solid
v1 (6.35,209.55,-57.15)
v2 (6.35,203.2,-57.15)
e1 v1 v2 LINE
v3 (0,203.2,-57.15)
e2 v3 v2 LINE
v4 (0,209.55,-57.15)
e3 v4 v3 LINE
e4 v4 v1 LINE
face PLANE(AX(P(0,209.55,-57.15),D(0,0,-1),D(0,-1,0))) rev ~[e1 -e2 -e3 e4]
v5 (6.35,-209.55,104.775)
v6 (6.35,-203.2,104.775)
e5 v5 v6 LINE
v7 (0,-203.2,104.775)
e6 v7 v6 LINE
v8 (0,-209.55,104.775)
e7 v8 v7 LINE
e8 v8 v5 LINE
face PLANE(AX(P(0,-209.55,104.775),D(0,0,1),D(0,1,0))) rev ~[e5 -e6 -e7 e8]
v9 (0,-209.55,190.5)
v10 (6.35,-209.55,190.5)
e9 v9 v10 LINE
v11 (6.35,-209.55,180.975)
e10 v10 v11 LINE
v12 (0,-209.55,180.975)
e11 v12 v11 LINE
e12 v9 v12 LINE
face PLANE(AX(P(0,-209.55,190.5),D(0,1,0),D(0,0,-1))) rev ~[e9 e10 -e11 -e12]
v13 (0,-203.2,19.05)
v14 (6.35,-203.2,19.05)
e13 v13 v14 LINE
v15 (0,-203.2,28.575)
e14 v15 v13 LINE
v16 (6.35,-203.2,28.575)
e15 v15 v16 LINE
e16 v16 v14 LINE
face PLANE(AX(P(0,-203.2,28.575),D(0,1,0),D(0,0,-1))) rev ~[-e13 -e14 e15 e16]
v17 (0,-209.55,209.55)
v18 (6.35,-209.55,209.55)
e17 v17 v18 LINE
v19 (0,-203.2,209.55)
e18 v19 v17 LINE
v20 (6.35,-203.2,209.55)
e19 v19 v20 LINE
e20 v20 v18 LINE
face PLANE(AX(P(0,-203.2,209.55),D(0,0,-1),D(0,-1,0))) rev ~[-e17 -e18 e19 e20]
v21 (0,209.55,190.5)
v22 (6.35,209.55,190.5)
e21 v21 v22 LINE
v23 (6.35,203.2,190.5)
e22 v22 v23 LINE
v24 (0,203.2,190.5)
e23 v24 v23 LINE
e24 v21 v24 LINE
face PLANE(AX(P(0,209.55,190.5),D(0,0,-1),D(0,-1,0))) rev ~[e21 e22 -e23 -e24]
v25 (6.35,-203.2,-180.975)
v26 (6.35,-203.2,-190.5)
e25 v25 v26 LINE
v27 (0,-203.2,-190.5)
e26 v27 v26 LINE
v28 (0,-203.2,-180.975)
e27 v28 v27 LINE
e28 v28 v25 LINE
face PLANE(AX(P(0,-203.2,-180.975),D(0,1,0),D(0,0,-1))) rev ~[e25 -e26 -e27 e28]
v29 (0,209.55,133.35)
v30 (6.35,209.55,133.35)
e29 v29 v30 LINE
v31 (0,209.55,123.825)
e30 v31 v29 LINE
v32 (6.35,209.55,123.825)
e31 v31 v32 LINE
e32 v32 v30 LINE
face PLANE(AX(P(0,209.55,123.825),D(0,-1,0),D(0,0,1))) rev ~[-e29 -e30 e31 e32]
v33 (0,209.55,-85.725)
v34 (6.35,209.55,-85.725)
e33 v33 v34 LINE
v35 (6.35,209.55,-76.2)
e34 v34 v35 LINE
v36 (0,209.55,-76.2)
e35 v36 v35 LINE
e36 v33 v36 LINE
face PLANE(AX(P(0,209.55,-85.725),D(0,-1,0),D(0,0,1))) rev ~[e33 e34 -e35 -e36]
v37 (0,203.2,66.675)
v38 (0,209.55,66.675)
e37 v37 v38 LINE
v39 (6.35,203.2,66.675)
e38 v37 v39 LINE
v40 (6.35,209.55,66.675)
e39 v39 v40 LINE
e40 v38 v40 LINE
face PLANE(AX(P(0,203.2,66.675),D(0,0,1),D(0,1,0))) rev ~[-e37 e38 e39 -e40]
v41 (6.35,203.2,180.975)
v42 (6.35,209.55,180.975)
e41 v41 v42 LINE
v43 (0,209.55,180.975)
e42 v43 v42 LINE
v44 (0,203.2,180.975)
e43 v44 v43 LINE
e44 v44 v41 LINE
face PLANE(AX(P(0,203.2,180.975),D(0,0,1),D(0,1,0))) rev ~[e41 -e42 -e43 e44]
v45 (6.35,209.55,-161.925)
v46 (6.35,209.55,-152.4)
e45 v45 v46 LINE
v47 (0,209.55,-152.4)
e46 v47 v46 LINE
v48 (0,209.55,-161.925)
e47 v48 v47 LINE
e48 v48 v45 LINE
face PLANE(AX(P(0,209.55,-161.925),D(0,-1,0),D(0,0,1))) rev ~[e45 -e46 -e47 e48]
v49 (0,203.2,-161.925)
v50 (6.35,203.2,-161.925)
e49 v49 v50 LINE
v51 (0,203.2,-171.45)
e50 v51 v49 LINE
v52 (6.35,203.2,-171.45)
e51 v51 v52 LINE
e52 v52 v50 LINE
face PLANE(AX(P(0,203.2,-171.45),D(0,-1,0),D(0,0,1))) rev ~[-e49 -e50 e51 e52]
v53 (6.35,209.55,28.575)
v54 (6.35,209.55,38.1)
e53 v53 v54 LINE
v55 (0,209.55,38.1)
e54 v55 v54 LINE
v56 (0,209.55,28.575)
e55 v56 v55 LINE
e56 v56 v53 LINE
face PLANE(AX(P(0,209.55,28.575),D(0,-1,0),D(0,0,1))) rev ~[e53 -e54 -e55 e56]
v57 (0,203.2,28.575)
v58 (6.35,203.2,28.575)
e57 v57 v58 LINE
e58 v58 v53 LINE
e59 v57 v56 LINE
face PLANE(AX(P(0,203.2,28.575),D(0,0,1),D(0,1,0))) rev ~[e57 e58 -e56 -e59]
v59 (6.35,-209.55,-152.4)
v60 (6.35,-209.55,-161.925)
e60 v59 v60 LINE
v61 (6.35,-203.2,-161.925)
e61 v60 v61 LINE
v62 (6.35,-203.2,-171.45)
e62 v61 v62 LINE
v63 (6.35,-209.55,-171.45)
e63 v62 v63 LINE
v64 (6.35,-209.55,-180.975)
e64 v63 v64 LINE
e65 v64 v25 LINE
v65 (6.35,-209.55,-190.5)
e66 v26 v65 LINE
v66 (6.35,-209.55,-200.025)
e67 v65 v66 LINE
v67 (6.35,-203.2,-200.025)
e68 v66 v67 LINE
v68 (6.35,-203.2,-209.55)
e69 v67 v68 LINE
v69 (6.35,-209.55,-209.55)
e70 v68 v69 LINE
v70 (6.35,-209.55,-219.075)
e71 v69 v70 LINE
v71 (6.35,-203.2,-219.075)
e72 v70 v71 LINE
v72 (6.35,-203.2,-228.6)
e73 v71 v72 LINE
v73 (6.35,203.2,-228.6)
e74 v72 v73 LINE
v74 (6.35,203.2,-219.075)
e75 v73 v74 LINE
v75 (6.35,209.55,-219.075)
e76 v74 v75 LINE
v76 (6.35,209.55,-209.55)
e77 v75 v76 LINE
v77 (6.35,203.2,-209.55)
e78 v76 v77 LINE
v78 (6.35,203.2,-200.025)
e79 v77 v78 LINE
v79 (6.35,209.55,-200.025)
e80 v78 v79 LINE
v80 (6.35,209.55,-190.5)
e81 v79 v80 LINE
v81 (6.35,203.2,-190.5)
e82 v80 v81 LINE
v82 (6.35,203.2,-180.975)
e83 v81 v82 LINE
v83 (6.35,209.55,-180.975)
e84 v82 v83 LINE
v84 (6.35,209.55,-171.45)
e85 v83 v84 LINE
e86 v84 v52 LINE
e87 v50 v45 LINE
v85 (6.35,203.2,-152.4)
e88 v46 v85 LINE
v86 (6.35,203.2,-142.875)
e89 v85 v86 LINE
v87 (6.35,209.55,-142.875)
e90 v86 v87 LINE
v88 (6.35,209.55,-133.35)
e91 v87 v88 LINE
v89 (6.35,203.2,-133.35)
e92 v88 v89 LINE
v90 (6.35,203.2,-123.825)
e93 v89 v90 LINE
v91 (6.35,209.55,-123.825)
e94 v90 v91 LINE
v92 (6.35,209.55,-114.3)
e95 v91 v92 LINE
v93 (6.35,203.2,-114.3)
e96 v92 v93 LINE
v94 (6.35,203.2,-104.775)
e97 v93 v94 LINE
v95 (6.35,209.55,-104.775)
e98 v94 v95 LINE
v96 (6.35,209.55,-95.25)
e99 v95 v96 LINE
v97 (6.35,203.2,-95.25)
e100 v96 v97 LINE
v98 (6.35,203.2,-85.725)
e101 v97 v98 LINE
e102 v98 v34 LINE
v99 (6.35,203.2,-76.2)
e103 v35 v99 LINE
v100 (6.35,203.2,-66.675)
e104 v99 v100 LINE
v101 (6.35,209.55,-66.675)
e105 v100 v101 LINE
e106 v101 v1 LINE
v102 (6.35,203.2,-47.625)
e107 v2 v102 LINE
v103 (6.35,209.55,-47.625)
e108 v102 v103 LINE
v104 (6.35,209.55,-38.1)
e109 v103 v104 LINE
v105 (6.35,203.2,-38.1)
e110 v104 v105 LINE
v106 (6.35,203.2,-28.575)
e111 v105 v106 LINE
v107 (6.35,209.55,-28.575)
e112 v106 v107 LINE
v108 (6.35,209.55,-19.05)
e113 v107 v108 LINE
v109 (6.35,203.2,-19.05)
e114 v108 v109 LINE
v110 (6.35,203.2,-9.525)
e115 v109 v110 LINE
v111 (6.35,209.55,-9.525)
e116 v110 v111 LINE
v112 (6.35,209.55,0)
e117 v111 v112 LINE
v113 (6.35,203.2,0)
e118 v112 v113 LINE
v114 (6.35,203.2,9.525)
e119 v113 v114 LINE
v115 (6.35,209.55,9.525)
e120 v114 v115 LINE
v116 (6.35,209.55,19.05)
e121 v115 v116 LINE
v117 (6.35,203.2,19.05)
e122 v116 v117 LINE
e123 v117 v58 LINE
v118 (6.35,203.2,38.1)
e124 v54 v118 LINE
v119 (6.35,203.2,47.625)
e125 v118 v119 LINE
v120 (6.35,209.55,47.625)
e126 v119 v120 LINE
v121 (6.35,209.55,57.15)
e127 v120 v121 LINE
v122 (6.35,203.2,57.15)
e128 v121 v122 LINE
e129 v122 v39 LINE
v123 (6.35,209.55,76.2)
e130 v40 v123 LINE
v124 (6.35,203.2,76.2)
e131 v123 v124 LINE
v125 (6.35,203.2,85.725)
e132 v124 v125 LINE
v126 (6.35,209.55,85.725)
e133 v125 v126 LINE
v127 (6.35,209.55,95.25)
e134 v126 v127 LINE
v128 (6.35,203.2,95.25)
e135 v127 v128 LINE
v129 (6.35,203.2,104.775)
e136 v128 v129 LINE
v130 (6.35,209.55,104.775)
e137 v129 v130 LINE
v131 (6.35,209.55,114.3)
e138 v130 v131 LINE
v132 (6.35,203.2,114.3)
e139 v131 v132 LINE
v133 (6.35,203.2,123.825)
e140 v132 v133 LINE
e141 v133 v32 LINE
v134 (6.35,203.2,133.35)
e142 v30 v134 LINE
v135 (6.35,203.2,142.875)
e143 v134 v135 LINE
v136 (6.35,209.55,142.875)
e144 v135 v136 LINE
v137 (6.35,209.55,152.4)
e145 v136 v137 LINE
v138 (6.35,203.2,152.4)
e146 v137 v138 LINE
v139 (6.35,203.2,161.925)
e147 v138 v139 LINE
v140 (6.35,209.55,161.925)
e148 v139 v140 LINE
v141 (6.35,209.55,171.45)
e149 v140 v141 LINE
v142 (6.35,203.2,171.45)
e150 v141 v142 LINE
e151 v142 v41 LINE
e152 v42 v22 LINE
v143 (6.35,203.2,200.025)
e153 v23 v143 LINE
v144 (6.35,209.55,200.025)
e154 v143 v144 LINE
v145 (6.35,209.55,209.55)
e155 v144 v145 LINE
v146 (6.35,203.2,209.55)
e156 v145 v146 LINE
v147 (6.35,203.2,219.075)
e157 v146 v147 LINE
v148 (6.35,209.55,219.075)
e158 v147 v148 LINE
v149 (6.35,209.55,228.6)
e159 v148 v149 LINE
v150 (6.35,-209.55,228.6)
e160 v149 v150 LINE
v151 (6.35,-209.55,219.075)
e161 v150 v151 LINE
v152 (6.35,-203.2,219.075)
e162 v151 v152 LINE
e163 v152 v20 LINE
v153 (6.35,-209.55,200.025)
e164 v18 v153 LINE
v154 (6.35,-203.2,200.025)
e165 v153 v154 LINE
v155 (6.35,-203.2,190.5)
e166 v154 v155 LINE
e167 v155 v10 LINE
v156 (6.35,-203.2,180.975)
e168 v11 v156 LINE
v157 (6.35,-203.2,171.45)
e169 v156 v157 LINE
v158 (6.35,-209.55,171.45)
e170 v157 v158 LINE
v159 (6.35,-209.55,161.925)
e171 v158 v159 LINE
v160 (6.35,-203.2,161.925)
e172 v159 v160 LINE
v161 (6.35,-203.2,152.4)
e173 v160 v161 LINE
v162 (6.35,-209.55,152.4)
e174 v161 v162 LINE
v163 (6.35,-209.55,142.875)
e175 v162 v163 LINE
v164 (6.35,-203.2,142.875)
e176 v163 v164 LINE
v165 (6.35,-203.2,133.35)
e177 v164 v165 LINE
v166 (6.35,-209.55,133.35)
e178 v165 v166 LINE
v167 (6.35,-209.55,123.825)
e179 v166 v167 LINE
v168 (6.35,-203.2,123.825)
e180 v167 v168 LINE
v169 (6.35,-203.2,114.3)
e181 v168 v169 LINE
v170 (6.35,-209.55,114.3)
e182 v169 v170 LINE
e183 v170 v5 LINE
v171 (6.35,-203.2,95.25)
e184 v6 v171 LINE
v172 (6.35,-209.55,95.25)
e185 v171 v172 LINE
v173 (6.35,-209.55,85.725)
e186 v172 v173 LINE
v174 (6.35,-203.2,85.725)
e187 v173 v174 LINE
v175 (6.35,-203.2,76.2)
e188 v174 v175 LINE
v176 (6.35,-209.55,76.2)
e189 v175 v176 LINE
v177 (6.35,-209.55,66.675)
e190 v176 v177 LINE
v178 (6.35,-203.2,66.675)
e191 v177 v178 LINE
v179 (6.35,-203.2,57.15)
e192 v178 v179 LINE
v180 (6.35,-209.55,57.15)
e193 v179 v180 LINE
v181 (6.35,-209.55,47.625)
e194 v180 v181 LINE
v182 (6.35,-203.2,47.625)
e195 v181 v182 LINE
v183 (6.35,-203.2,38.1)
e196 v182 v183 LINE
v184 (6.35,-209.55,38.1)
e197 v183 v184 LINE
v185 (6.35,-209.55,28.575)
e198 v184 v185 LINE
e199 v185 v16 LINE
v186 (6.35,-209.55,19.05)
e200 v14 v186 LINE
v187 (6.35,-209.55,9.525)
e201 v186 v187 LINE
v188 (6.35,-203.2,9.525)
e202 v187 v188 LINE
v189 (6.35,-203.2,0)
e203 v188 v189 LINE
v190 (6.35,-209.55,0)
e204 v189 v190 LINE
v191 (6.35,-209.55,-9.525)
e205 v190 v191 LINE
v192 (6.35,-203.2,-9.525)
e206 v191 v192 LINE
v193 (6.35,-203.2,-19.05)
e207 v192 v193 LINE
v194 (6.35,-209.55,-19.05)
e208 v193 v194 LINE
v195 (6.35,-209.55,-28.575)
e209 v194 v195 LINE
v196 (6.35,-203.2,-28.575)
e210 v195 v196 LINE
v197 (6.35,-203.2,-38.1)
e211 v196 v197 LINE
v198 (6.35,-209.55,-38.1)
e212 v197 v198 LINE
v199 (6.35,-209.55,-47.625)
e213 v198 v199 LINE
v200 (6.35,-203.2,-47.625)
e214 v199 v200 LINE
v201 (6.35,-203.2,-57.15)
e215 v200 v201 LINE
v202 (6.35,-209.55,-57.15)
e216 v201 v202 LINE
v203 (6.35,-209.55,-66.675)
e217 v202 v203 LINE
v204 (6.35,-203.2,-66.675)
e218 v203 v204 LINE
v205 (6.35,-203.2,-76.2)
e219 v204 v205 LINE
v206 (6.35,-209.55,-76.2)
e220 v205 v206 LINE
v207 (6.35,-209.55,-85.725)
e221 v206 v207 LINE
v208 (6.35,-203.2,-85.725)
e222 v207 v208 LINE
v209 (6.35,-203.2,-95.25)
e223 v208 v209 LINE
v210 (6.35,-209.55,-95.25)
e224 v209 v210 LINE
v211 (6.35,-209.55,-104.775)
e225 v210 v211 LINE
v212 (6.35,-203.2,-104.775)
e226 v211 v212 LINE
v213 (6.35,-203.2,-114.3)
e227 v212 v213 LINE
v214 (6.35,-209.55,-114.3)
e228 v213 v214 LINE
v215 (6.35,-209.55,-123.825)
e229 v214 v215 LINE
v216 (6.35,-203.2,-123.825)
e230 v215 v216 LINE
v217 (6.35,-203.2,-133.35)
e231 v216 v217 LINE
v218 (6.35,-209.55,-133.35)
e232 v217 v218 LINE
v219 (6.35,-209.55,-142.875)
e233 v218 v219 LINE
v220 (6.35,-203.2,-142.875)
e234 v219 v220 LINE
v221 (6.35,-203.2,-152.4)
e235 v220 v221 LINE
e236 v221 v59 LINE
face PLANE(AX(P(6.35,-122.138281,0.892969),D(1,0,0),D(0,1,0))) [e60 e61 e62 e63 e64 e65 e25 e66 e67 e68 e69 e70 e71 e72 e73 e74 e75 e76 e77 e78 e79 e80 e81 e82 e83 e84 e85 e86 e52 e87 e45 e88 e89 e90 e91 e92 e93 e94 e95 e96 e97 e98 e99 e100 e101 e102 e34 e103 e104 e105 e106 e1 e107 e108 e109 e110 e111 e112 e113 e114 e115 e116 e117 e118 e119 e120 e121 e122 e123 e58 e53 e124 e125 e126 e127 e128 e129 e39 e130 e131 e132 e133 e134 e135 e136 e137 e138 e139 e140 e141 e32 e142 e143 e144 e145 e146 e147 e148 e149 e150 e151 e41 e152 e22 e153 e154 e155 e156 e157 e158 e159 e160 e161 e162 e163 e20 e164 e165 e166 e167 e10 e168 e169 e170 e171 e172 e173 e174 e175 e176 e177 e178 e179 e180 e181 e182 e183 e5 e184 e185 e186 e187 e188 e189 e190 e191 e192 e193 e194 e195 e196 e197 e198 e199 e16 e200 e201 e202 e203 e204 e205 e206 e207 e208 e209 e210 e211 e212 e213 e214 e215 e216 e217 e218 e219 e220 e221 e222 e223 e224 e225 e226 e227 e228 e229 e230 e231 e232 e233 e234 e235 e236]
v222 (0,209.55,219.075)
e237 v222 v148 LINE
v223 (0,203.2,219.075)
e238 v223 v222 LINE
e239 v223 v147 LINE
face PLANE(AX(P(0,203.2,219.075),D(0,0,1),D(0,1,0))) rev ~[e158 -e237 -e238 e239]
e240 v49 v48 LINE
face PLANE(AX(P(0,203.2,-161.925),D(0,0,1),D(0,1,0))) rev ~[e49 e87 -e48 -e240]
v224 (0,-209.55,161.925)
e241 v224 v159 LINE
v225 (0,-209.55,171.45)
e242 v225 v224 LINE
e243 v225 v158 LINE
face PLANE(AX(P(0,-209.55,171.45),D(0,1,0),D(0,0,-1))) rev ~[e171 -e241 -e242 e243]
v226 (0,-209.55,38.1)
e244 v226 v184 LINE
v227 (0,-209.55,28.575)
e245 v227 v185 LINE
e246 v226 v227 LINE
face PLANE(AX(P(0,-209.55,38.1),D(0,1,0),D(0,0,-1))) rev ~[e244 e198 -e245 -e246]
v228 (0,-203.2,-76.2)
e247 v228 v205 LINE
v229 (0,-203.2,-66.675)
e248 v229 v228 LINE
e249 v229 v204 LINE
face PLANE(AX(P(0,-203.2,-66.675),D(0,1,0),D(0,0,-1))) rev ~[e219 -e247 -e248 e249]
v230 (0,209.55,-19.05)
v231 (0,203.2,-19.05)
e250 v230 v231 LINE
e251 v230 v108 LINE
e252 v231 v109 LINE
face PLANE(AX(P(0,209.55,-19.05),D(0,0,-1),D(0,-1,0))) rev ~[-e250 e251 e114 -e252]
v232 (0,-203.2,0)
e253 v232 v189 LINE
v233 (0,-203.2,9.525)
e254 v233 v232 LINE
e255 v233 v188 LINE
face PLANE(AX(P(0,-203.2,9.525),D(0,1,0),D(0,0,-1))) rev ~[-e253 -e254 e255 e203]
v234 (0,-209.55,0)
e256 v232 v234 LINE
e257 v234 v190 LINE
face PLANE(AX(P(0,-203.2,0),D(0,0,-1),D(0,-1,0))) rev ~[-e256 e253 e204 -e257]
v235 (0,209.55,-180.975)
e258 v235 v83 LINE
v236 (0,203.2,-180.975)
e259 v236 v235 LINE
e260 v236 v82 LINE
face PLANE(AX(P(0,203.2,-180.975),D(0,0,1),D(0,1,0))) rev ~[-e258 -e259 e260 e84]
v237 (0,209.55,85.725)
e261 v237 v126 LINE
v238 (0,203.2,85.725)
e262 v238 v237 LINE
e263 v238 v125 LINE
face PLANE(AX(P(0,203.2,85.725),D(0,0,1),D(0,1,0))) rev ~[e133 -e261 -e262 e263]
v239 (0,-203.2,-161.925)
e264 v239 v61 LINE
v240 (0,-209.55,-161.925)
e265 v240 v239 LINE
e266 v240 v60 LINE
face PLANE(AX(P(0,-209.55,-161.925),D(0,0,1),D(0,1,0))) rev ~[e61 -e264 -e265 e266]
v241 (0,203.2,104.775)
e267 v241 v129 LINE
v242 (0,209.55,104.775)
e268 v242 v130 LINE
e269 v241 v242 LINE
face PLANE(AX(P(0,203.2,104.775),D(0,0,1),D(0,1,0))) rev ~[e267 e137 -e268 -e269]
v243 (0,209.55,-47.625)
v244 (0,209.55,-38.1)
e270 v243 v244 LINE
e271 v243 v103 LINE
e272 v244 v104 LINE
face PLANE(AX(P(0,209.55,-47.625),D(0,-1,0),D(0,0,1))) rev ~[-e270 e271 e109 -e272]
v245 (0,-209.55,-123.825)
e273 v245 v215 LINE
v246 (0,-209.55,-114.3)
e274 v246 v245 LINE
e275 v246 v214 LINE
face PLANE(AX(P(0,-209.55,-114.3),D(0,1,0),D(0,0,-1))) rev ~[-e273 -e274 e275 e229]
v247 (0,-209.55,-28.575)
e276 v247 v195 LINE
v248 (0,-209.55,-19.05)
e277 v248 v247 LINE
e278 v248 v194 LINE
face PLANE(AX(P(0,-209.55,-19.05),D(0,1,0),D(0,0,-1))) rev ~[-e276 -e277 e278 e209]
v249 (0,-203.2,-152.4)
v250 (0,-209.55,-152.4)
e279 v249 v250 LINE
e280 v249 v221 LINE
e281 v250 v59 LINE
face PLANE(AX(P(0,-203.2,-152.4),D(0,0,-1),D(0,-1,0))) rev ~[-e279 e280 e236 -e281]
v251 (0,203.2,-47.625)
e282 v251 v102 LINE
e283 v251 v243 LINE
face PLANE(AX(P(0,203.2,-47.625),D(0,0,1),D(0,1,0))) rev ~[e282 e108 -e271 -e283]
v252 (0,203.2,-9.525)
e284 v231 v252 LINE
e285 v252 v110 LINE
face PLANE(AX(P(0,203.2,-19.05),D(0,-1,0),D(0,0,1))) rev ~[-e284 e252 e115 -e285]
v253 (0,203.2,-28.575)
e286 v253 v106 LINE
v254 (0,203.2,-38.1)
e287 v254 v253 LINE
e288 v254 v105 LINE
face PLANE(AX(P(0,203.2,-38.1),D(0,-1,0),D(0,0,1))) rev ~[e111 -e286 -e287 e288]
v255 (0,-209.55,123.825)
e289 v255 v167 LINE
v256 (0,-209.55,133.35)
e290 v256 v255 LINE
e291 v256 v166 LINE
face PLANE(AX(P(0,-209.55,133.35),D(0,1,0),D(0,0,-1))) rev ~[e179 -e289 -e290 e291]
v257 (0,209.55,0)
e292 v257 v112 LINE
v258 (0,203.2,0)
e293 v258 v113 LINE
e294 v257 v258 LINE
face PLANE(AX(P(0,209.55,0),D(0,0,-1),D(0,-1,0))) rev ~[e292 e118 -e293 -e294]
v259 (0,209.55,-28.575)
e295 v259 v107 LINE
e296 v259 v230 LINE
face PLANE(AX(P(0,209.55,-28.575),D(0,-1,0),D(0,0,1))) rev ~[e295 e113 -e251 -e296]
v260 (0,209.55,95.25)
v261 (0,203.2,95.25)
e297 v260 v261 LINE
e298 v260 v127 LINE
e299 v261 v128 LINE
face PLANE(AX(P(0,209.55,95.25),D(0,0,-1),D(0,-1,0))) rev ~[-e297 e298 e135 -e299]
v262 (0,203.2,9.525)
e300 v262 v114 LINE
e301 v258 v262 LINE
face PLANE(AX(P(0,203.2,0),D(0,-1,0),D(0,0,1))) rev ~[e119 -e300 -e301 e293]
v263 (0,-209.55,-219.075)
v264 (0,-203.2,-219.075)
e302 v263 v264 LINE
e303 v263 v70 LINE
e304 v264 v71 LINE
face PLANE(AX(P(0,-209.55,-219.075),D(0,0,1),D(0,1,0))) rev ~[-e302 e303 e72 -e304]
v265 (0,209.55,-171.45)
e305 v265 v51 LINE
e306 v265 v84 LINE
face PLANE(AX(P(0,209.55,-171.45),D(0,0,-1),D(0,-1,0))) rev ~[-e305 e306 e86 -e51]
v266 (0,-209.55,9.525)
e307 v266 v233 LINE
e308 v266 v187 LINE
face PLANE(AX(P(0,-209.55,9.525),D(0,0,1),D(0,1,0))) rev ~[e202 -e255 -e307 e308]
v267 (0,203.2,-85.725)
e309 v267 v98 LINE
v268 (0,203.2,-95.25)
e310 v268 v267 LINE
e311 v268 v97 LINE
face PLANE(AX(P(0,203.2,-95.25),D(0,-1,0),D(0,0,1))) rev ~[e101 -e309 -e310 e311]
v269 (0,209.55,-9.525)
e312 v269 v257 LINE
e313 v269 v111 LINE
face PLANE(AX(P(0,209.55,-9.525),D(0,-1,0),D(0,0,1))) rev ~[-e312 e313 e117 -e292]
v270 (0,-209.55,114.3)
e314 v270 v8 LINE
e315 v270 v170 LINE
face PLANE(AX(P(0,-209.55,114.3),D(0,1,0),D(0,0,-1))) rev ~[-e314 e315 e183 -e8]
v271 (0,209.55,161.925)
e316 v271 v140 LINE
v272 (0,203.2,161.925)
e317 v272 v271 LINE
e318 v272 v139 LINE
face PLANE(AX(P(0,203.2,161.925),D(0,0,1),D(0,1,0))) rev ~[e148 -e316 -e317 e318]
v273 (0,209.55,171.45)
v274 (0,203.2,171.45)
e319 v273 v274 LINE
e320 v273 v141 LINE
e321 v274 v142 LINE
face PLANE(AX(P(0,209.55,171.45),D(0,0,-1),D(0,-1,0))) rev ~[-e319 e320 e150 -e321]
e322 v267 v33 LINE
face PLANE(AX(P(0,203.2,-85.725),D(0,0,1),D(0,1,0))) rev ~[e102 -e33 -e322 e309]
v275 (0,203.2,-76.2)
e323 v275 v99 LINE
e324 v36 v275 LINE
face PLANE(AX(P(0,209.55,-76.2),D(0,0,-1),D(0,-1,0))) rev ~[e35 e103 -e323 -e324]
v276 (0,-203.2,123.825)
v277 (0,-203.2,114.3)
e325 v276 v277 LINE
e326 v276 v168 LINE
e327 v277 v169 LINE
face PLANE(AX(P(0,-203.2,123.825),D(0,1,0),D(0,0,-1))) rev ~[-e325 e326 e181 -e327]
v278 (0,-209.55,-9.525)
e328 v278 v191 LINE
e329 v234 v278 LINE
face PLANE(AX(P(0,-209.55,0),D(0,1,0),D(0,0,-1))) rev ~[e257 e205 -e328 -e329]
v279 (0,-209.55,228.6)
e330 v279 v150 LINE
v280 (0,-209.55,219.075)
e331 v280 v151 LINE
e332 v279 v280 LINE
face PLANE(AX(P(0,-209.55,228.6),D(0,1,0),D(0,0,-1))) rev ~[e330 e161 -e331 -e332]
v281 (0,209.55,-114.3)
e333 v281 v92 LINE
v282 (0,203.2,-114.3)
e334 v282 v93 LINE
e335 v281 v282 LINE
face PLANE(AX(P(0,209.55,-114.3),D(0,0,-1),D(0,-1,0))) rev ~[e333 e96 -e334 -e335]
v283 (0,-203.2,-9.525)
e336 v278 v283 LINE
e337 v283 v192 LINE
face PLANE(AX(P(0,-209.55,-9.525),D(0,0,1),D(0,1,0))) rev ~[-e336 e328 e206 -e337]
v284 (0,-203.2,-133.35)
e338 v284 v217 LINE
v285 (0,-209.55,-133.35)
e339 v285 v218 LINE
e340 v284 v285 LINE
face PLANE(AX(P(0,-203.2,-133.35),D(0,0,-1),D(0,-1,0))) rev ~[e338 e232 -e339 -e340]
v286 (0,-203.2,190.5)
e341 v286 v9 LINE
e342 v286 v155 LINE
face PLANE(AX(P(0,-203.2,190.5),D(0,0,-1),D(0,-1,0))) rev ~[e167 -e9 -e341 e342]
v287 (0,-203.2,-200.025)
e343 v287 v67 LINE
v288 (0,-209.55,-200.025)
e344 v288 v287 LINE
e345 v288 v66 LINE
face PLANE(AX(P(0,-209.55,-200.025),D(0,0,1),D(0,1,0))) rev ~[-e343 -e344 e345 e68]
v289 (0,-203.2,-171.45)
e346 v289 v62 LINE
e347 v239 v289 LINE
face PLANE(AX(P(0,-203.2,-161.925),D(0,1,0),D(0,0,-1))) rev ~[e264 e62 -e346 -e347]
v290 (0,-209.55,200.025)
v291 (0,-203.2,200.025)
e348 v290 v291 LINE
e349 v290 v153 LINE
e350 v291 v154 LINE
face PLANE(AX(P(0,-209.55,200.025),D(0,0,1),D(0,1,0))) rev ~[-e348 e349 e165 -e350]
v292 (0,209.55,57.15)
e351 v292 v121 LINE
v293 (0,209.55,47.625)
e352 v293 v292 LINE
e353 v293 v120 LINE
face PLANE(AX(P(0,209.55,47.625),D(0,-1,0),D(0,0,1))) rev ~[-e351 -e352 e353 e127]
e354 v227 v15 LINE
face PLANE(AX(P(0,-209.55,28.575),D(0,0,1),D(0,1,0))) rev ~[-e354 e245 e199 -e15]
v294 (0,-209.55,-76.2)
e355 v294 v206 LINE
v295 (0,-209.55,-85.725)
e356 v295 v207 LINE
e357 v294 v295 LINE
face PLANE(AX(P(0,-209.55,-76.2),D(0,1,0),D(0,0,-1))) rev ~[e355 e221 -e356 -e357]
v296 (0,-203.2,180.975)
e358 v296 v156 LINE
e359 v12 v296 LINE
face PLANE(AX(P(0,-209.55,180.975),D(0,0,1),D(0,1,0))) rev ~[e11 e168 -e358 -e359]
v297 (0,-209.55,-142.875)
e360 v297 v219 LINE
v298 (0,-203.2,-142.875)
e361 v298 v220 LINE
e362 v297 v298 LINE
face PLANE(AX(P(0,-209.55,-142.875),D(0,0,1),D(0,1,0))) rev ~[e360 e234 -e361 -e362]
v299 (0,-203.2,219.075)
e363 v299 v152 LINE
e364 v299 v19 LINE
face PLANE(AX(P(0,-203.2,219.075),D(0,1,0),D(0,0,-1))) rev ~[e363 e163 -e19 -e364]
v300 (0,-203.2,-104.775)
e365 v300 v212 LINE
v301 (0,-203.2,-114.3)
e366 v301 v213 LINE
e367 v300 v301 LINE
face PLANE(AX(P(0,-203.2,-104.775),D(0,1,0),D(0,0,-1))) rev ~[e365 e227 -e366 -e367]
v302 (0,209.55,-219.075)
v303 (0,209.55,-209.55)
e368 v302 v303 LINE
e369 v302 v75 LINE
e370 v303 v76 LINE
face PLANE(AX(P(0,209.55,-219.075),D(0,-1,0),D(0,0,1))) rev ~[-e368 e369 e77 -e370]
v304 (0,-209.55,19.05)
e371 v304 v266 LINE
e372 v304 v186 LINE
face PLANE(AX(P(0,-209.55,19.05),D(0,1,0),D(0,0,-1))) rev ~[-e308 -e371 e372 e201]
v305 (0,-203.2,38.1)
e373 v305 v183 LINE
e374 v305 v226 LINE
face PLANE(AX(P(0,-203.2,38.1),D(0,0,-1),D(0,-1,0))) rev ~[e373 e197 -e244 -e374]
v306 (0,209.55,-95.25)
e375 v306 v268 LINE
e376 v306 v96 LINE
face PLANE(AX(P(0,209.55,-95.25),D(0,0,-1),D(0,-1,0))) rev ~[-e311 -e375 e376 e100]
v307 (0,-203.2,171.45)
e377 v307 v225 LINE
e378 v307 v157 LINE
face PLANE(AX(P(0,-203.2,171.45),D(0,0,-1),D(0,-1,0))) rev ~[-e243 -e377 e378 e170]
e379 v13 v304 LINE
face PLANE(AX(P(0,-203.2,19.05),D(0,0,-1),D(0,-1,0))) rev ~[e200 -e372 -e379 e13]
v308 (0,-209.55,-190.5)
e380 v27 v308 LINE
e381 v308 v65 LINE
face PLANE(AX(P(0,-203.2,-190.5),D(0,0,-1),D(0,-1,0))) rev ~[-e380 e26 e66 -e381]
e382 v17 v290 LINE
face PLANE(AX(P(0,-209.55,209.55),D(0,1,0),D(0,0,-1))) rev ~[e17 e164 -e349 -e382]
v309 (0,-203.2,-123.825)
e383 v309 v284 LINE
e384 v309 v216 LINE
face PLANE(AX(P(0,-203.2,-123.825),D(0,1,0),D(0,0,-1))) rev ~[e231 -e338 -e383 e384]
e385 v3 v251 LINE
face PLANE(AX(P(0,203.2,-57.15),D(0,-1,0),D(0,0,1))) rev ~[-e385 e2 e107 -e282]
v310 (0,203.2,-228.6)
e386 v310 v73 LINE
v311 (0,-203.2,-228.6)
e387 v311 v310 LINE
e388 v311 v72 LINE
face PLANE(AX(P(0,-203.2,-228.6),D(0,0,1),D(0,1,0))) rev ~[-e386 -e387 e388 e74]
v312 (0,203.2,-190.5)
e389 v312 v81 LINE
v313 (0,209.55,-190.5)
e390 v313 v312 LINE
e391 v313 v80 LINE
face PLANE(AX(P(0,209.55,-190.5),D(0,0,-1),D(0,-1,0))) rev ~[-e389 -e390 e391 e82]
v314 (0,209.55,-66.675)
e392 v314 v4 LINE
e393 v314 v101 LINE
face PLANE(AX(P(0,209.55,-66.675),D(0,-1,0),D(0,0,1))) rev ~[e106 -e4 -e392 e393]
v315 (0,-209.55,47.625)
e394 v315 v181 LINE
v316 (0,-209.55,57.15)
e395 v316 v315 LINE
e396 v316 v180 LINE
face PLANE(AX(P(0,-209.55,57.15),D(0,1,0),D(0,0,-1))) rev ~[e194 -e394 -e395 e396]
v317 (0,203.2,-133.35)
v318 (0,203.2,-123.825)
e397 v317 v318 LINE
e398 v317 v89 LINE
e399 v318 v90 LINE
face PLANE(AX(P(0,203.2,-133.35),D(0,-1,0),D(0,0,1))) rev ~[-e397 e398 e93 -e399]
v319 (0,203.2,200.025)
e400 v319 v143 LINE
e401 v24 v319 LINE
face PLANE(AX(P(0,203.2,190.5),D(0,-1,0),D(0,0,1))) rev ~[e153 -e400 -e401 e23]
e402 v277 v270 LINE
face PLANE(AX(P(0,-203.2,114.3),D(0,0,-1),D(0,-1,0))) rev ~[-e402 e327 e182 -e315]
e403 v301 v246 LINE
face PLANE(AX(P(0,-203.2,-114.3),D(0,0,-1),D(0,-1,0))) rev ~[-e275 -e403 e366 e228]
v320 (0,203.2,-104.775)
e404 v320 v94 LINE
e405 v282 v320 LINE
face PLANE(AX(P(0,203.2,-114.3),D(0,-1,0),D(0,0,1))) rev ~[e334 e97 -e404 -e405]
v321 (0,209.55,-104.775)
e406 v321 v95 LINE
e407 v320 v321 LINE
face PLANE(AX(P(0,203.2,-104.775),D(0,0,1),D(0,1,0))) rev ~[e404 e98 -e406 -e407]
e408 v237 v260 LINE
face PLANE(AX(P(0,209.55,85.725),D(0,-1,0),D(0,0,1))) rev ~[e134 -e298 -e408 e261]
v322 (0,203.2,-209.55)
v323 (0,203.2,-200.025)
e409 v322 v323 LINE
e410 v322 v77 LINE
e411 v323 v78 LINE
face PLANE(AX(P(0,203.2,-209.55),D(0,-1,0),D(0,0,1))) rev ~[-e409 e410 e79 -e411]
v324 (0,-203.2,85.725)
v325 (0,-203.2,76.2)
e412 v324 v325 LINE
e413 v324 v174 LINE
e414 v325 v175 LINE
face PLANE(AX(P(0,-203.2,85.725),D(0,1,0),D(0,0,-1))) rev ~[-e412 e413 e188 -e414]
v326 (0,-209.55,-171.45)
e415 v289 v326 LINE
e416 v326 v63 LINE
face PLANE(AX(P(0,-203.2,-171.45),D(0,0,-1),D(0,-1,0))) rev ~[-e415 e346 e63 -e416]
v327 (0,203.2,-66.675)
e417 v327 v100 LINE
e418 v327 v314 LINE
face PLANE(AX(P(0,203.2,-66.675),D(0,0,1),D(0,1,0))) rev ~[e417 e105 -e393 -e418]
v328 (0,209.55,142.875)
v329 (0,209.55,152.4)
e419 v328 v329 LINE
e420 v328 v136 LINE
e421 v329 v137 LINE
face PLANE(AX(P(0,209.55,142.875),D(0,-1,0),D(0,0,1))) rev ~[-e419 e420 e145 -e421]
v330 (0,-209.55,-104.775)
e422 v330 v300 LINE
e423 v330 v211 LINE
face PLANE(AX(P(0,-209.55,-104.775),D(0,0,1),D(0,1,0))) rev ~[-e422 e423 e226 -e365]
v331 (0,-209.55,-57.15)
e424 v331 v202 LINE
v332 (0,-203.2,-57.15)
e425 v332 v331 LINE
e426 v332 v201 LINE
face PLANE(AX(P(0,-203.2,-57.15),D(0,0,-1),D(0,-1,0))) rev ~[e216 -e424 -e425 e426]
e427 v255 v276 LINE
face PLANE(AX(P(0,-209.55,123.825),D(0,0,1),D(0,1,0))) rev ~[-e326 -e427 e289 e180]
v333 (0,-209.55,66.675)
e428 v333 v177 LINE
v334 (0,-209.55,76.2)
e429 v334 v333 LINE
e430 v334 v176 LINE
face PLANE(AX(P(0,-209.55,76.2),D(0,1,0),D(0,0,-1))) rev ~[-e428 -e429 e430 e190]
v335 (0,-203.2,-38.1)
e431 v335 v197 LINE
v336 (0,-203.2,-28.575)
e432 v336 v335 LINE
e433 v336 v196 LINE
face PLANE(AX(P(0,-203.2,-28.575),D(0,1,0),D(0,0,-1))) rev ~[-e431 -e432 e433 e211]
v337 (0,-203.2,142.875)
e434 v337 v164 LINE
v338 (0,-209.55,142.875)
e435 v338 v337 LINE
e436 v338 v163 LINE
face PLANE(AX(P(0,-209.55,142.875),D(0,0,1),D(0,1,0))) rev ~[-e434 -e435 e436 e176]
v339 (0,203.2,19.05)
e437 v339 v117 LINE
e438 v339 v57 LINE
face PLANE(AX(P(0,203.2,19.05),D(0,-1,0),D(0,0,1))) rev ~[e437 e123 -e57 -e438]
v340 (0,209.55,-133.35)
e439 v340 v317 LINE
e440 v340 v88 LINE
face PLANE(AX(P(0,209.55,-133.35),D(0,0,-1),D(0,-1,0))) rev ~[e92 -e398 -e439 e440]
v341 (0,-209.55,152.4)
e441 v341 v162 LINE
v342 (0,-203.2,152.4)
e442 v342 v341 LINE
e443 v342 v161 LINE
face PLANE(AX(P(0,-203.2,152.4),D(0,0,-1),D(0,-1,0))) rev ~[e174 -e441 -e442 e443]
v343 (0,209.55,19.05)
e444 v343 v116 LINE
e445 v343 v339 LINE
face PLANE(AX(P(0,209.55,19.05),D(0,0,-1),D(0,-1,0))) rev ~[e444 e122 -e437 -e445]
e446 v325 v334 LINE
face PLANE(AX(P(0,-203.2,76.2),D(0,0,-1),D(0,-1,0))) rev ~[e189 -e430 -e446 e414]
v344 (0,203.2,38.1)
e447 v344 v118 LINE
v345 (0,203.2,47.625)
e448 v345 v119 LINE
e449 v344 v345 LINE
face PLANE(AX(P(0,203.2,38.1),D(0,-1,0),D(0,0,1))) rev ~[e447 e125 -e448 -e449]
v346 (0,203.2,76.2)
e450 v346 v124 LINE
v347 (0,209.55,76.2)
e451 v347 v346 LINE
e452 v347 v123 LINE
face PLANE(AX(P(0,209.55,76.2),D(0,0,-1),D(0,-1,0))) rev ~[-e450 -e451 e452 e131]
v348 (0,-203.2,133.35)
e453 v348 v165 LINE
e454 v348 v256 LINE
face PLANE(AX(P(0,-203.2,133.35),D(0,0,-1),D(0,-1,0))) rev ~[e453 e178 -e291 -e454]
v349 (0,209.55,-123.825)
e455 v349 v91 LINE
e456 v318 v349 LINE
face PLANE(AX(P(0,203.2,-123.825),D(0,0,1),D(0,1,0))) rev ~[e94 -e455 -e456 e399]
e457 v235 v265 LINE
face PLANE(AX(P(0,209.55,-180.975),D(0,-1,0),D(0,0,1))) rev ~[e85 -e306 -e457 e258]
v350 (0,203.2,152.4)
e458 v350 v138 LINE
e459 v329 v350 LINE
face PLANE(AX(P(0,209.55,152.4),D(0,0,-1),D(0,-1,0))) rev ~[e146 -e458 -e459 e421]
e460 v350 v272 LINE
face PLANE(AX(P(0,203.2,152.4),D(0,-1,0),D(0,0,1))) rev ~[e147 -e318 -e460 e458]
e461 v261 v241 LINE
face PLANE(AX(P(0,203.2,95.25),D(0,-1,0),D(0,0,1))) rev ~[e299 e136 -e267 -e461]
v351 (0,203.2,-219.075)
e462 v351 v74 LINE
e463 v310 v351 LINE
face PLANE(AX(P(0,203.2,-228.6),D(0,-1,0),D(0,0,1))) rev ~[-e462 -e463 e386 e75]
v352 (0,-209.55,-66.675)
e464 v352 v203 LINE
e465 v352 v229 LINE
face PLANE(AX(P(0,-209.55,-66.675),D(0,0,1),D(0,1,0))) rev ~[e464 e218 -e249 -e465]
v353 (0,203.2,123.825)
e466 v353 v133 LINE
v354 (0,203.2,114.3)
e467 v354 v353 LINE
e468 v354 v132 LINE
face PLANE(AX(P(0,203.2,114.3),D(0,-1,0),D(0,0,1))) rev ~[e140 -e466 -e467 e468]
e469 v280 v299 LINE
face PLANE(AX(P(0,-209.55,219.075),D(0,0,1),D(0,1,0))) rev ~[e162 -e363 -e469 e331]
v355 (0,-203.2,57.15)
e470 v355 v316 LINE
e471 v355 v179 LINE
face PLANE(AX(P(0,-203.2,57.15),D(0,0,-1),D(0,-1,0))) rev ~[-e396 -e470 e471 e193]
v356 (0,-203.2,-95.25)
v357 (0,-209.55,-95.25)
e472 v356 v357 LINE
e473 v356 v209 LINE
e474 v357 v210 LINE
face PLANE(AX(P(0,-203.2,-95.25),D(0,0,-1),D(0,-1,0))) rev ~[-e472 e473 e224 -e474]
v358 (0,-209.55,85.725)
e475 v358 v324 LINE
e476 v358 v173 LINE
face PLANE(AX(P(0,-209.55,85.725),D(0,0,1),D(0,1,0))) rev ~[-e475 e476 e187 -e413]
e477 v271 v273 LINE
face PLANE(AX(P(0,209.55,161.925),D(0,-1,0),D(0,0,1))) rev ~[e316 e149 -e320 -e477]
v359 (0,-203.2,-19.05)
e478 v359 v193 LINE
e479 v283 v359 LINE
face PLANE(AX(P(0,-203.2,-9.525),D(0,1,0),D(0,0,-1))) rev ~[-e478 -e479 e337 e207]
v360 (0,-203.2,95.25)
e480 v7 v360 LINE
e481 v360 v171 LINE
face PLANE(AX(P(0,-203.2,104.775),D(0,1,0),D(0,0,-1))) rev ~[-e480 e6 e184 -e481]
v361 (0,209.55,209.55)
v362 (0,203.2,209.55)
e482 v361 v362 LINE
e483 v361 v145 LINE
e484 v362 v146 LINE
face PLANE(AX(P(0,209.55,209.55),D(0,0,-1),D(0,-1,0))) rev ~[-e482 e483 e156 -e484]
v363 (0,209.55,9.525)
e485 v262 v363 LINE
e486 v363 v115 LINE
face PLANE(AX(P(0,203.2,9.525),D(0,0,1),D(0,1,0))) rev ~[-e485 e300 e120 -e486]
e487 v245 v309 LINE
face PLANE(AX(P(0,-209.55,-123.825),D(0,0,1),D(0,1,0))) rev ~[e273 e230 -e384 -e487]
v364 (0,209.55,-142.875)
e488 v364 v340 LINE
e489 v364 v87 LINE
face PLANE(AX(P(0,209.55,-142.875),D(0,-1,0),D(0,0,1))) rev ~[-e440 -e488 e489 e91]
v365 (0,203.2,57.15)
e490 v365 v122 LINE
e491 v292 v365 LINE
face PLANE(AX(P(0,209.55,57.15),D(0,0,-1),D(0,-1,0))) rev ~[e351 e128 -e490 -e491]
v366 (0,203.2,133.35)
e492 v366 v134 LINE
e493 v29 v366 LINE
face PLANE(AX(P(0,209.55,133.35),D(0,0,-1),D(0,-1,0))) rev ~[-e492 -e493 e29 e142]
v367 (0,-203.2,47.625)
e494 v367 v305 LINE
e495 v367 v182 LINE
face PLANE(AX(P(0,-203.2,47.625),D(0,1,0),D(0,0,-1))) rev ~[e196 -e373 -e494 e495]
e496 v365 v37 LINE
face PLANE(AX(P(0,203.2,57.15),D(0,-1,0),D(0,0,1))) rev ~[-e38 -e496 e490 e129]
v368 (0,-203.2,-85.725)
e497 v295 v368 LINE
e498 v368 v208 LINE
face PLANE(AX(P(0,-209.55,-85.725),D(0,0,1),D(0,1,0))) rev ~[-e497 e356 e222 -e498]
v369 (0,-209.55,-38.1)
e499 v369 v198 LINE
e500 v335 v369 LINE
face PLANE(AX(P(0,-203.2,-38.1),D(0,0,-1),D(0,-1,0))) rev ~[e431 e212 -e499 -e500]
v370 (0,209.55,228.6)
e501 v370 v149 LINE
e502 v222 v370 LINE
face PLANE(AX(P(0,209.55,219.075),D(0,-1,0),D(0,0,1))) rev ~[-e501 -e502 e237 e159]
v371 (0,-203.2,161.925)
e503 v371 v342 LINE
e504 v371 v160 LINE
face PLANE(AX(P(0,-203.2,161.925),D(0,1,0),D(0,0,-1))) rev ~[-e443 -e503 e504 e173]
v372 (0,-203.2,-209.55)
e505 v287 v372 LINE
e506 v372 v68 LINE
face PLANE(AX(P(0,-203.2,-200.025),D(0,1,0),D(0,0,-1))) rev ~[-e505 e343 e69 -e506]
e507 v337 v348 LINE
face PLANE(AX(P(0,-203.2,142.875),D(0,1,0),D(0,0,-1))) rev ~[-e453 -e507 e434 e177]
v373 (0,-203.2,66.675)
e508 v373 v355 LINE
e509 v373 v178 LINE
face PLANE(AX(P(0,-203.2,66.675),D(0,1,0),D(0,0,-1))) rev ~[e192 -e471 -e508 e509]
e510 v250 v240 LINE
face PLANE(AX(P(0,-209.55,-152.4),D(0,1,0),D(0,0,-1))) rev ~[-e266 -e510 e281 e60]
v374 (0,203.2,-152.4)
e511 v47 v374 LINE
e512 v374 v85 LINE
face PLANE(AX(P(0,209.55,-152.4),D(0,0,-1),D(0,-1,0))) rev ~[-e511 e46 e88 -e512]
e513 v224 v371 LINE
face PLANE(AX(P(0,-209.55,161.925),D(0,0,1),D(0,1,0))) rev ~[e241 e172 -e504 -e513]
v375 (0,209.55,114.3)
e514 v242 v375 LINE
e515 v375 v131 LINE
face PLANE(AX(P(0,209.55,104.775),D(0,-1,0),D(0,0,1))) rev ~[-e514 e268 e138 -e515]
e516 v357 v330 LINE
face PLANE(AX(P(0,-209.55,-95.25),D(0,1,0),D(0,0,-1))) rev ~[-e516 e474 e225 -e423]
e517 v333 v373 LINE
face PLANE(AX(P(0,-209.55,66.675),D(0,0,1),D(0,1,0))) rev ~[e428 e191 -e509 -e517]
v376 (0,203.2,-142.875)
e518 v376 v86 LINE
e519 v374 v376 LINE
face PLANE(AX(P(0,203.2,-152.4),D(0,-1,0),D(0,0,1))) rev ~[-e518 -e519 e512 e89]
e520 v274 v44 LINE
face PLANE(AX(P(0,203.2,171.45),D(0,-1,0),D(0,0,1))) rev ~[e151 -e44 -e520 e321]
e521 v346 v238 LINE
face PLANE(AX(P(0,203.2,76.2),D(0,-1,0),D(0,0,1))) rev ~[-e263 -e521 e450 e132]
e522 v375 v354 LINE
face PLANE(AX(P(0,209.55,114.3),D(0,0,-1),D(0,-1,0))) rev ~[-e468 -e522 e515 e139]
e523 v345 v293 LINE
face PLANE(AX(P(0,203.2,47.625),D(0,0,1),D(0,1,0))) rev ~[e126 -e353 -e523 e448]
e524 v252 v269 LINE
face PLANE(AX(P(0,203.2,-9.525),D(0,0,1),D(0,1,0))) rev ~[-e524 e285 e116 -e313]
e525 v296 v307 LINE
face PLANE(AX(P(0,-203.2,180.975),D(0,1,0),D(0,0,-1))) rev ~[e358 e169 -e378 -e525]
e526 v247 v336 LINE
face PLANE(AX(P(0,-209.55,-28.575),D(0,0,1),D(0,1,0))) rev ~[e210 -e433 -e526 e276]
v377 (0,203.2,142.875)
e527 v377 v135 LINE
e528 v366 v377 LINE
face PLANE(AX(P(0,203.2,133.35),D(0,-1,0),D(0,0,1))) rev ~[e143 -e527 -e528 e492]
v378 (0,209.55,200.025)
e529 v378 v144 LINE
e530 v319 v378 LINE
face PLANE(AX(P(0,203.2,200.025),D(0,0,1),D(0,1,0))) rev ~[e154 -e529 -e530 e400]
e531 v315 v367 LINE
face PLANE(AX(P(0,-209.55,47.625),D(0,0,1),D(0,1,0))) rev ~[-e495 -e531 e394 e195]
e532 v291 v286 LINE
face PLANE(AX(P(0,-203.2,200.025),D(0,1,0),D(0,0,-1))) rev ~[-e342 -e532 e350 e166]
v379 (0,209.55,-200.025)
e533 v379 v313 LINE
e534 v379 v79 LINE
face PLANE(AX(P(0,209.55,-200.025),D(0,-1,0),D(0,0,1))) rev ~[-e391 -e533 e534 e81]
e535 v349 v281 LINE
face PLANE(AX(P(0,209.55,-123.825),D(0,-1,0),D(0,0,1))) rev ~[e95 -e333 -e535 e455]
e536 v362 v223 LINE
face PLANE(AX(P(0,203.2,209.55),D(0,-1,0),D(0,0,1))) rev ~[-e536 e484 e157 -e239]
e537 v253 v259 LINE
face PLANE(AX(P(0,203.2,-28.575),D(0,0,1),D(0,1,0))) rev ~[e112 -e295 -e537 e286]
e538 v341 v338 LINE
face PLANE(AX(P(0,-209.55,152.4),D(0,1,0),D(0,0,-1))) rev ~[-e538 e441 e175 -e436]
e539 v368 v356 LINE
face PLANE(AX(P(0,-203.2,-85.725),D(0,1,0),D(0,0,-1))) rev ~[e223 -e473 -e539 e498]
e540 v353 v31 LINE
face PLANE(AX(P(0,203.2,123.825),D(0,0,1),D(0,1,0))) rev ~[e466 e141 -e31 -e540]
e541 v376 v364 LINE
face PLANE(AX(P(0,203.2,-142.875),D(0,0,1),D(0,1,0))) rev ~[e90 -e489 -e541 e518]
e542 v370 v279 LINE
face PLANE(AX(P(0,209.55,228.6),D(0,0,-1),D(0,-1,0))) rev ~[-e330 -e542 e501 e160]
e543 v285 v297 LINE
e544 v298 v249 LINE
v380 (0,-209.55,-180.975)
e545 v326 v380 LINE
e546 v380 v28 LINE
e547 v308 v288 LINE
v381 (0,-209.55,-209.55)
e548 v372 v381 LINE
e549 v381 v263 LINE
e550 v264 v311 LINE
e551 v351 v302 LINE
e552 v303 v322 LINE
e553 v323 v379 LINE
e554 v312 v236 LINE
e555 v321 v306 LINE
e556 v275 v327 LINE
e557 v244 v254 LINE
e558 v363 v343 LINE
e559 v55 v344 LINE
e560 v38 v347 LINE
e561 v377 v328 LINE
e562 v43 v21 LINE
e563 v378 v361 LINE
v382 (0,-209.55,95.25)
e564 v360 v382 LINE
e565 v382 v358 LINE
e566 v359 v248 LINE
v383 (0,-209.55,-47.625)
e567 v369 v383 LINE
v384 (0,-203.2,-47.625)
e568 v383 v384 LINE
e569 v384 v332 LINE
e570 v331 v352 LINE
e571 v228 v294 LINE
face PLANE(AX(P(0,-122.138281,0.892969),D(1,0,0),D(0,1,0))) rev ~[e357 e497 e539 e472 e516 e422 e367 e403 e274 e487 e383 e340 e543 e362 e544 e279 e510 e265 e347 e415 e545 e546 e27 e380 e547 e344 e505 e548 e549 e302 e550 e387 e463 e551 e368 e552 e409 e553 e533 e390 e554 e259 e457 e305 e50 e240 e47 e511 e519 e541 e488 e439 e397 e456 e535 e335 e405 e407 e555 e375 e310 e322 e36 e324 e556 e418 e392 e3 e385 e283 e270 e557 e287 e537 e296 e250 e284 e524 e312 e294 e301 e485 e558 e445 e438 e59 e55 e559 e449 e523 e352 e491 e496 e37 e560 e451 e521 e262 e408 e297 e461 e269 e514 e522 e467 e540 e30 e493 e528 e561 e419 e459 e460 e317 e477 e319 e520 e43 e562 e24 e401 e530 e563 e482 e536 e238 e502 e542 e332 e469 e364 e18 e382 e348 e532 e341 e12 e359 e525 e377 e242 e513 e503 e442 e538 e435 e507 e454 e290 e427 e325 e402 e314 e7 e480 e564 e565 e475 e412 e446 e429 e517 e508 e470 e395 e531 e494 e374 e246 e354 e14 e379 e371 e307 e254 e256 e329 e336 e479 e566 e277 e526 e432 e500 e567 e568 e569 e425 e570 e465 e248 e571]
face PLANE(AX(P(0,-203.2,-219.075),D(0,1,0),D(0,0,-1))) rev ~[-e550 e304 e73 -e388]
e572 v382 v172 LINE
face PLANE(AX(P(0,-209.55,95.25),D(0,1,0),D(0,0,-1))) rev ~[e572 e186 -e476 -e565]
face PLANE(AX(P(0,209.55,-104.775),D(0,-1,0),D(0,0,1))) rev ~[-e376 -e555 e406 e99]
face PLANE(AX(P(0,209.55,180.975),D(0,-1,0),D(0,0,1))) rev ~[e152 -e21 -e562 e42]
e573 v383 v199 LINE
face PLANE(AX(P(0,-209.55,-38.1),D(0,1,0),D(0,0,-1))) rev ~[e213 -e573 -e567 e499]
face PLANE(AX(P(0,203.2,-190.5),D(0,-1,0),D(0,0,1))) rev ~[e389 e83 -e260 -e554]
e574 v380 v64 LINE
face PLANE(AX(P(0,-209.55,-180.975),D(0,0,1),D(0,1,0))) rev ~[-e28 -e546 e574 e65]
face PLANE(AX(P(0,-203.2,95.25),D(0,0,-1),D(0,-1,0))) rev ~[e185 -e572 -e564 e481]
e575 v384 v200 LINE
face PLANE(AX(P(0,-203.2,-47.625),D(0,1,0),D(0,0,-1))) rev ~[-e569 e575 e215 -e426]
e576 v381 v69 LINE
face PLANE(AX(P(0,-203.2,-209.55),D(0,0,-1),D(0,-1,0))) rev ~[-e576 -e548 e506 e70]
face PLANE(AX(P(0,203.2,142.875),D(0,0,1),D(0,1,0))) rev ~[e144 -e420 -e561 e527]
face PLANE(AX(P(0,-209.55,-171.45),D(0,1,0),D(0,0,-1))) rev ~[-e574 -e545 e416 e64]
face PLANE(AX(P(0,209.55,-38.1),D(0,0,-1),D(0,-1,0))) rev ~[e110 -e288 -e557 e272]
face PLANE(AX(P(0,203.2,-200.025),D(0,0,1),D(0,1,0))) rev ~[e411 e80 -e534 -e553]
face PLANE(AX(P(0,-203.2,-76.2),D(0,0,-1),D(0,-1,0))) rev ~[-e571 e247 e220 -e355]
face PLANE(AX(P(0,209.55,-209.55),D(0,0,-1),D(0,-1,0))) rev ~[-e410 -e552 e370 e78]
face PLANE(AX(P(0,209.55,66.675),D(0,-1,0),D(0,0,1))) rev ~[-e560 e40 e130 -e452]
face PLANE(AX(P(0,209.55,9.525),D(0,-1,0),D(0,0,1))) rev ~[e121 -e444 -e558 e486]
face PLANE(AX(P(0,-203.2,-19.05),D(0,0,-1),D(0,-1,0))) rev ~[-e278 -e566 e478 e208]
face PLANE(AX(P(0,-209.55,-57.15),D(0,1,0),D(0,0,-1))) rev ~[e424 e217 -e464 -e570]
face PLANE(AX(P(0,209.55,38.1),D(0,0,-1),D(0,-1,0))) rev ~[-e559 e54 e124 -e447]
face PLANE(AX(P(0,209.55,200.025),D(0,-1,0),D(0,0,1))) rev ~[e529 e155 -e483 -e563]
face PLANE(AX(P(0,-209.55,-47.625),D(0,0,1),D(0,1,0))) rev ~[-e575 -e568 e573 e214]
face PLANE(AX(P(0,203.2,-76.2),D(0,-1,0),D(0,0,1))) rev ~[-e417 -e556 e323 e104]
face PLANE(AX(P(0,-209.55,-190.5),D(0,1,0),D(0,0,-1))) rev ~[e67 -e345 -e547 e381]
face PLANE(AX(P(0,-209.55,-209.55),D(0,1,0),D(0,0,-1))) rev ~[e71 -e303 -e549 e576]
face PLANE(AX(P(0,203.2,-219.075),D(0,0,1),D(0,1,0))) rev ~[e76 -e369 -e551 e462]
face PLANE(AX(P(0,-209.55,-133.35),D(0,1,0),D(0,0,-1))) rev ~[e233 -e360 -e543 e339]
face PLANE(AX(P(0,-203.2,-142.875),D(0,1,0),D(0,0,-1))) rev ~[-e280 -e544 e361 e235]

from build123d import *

# Parameters (mm, degrees)
F1_DEPTH = 6.35


with BuildPart() as f1:
    # F0 (on Right) → F1 (new body)
    with BuildSketch(Plane.YZ):
        Polygon((-203.2, 228.6), (-209.55, 228.6), (-209.55, 219.075), (-203.2, 219.075), (-203.2, 209.55), (-209.55, 209.55), (-209.55, 200.025), (-203.2, 200.025), (-203.2, 190.5), (-209.55, 190.5), (-209.55, 180.975), (-203.2, 180.975), (-203.2, 171.45), (-209.55, 171.45), (-209.55, 161.925), (-203.2, 161.925), (-203.2, 152.4), (-209.55, 152.4), (-209.55, 142.875), (-203.2, 142.875), (-203.2, 133.35), (-209.55, 133.35), (-209.55, 123.825), (-203.2, 123.825), (-203.2, 114.3), (-209.55, 114.3), (-209.55, 104.775), (-203.2, 104.775), (-203.2, 95.25), (-209.55, 95.25), (-209.55, 85.725), (-203.2, 85.725), (-203.2, 76.2), (-209.55, 76.2), (-209.55, 66.675), (-203.2, 66.675), (-203.2, 57.15), (-209.55, 57.15), (-209.55, 47.625), (-203.2, 47.625), (-203.2, 38.1), (-209.55, 38.1), (-209.55, 28.575), (-203.2, 28.575), (-203.2, 19.05), (-209.55, 19.05), (-209.55, 9.525), (-203.2, 9.525), (-203.2, 0), (-209.55, 0), (-209.55, -9.525), (-203.2, -9.525), (-203.2, -19.05), (-209.55, -19.05), (-209.55, -28.575), (-203.2, -28.575), (-203.2, -38.1), (-209.55, -38.1), (-209.55, -47.625), (-203.2, -47.625), (-203.2, -57.15), (-209.55, -57.15), (-209.55, -66.675), (-203.2, -66.675), (-203.2, -76.2), (-209.55, -76.2), (-209.55, -85.725), (-203.2, -85.725), (-203.2, -95.25), (-209.55, -95.25), (-209.55, -104.775), (-203.2, -104.775), (-203.2, -114.3), (-209.55, -114.3), (-209.55, -123.825), (-203.2, -123.825), (-203.2, -133.35), (-209.55, -133.35), (-209.55, -142.875), (-203.2, -142.875), (-203.2, -152.4), (-209.55, -152.4), (-209.55, -161.925), (-203.2, -161.925), (-203.2, -171.45), (-209.55, -171.45), (-209.55, -180.975), (-203.2, -180.975), (-203.2, -190.5), (-209.55, -190.5), (-209.55, -200.025), (-203.2, -200.025), (-203.2, -209.55), (-209.55, -209.55), (-209.55, -219.075), (-203.2, -219.075), (-203.2, -228.6), (0, -228.6), (0, 228.6), align=None)
        Polygon((203.2, 228.6), (0, 228.6), (0, -228.6), (203.2, -228.6), (203.2, -219.075), (209.55, -219.075), (209.55, -209.55), (203.2, -209.55), (203.2, -200.025), (209.55, -200.025), (209.55, -190.5), (203.2, -190.5), (203.2, -180.975), (209.55, -180.975), (209.55, -171.45), (203.2, -171.45), (203.2, -161.925), (209.55, -161.925), (209.55, -152.4), (203.2, -152.4), (203.2, -142.875), (209.55, -142.875), (209.55, -133.35), (203.2, -133.35), (203.2, -123.825), (209.55, -123.825), (209.55, -114.3), (203.2, -114.3), (203.2, -104.775), (209.55, -104.775), (209.55, -95.25), (203.2, -95.25), (203.2, -85.725), (209.55, -85.725), (209.55, -76.2), (203.2, -76.2), (203.2, -66.675), (209.55, -66.675), (209.55, -57.15), (203.2, -57.15), (203.2, -47.625), (209.55, -47.625), (209.55, -38.1), (203.2, -38.1), (203.2, -28.575), (209.55, -28.575), (209.55, -19.05), (203.2, -19.05), (203.2, -9.525), (209.55, -9.525), (209.55, 0), (203.2, 0), (203.2, 9.525), (209.55, 9.525), (209.55, 19.05), (203.2, 19.05), (203.2, 28.575), (209.55, 28.575), (209.55, 38.1), (203.2, 38.1), (203.2, 47.625), (209.55, 47.625), (209.55, 57.15), (203.2, 57.15), (203.2, 66.675), (209.55, 66.675), (209.55, 76.2), (203.2, 76.2), (203.2, 85.725), (209.55, 85.725), (209.55, 95.25), (203.2, 95.25), (203.2, 104.775), (209.55, 104.775), (209.55, 114.3), (203.2, 114.3), (203.2, 123.825), (209.55, 123.825), (209.55, 133.35), (203.2, 133.35), (203.2, 142.875), (209.55, 142.875), (209.55, 152.4), (203.2, 152.4), (203.2, 161.925), (209.55, 161.925), (209.55, 171.45), (203.2, 171.45), (203.2, 180.975), (209.55, 180.975), (209.55, 190.5), (203.2, 190.5), (203.2, 200.025), (209.55, 200.025), (209.55, 209.55), (203.2, 209.55), (203.2, 219.075), (209.55, 219.075), (209.55, 228.6), align=None)
    extrude(amount=F1_DEPTH)


solid = f1.part
